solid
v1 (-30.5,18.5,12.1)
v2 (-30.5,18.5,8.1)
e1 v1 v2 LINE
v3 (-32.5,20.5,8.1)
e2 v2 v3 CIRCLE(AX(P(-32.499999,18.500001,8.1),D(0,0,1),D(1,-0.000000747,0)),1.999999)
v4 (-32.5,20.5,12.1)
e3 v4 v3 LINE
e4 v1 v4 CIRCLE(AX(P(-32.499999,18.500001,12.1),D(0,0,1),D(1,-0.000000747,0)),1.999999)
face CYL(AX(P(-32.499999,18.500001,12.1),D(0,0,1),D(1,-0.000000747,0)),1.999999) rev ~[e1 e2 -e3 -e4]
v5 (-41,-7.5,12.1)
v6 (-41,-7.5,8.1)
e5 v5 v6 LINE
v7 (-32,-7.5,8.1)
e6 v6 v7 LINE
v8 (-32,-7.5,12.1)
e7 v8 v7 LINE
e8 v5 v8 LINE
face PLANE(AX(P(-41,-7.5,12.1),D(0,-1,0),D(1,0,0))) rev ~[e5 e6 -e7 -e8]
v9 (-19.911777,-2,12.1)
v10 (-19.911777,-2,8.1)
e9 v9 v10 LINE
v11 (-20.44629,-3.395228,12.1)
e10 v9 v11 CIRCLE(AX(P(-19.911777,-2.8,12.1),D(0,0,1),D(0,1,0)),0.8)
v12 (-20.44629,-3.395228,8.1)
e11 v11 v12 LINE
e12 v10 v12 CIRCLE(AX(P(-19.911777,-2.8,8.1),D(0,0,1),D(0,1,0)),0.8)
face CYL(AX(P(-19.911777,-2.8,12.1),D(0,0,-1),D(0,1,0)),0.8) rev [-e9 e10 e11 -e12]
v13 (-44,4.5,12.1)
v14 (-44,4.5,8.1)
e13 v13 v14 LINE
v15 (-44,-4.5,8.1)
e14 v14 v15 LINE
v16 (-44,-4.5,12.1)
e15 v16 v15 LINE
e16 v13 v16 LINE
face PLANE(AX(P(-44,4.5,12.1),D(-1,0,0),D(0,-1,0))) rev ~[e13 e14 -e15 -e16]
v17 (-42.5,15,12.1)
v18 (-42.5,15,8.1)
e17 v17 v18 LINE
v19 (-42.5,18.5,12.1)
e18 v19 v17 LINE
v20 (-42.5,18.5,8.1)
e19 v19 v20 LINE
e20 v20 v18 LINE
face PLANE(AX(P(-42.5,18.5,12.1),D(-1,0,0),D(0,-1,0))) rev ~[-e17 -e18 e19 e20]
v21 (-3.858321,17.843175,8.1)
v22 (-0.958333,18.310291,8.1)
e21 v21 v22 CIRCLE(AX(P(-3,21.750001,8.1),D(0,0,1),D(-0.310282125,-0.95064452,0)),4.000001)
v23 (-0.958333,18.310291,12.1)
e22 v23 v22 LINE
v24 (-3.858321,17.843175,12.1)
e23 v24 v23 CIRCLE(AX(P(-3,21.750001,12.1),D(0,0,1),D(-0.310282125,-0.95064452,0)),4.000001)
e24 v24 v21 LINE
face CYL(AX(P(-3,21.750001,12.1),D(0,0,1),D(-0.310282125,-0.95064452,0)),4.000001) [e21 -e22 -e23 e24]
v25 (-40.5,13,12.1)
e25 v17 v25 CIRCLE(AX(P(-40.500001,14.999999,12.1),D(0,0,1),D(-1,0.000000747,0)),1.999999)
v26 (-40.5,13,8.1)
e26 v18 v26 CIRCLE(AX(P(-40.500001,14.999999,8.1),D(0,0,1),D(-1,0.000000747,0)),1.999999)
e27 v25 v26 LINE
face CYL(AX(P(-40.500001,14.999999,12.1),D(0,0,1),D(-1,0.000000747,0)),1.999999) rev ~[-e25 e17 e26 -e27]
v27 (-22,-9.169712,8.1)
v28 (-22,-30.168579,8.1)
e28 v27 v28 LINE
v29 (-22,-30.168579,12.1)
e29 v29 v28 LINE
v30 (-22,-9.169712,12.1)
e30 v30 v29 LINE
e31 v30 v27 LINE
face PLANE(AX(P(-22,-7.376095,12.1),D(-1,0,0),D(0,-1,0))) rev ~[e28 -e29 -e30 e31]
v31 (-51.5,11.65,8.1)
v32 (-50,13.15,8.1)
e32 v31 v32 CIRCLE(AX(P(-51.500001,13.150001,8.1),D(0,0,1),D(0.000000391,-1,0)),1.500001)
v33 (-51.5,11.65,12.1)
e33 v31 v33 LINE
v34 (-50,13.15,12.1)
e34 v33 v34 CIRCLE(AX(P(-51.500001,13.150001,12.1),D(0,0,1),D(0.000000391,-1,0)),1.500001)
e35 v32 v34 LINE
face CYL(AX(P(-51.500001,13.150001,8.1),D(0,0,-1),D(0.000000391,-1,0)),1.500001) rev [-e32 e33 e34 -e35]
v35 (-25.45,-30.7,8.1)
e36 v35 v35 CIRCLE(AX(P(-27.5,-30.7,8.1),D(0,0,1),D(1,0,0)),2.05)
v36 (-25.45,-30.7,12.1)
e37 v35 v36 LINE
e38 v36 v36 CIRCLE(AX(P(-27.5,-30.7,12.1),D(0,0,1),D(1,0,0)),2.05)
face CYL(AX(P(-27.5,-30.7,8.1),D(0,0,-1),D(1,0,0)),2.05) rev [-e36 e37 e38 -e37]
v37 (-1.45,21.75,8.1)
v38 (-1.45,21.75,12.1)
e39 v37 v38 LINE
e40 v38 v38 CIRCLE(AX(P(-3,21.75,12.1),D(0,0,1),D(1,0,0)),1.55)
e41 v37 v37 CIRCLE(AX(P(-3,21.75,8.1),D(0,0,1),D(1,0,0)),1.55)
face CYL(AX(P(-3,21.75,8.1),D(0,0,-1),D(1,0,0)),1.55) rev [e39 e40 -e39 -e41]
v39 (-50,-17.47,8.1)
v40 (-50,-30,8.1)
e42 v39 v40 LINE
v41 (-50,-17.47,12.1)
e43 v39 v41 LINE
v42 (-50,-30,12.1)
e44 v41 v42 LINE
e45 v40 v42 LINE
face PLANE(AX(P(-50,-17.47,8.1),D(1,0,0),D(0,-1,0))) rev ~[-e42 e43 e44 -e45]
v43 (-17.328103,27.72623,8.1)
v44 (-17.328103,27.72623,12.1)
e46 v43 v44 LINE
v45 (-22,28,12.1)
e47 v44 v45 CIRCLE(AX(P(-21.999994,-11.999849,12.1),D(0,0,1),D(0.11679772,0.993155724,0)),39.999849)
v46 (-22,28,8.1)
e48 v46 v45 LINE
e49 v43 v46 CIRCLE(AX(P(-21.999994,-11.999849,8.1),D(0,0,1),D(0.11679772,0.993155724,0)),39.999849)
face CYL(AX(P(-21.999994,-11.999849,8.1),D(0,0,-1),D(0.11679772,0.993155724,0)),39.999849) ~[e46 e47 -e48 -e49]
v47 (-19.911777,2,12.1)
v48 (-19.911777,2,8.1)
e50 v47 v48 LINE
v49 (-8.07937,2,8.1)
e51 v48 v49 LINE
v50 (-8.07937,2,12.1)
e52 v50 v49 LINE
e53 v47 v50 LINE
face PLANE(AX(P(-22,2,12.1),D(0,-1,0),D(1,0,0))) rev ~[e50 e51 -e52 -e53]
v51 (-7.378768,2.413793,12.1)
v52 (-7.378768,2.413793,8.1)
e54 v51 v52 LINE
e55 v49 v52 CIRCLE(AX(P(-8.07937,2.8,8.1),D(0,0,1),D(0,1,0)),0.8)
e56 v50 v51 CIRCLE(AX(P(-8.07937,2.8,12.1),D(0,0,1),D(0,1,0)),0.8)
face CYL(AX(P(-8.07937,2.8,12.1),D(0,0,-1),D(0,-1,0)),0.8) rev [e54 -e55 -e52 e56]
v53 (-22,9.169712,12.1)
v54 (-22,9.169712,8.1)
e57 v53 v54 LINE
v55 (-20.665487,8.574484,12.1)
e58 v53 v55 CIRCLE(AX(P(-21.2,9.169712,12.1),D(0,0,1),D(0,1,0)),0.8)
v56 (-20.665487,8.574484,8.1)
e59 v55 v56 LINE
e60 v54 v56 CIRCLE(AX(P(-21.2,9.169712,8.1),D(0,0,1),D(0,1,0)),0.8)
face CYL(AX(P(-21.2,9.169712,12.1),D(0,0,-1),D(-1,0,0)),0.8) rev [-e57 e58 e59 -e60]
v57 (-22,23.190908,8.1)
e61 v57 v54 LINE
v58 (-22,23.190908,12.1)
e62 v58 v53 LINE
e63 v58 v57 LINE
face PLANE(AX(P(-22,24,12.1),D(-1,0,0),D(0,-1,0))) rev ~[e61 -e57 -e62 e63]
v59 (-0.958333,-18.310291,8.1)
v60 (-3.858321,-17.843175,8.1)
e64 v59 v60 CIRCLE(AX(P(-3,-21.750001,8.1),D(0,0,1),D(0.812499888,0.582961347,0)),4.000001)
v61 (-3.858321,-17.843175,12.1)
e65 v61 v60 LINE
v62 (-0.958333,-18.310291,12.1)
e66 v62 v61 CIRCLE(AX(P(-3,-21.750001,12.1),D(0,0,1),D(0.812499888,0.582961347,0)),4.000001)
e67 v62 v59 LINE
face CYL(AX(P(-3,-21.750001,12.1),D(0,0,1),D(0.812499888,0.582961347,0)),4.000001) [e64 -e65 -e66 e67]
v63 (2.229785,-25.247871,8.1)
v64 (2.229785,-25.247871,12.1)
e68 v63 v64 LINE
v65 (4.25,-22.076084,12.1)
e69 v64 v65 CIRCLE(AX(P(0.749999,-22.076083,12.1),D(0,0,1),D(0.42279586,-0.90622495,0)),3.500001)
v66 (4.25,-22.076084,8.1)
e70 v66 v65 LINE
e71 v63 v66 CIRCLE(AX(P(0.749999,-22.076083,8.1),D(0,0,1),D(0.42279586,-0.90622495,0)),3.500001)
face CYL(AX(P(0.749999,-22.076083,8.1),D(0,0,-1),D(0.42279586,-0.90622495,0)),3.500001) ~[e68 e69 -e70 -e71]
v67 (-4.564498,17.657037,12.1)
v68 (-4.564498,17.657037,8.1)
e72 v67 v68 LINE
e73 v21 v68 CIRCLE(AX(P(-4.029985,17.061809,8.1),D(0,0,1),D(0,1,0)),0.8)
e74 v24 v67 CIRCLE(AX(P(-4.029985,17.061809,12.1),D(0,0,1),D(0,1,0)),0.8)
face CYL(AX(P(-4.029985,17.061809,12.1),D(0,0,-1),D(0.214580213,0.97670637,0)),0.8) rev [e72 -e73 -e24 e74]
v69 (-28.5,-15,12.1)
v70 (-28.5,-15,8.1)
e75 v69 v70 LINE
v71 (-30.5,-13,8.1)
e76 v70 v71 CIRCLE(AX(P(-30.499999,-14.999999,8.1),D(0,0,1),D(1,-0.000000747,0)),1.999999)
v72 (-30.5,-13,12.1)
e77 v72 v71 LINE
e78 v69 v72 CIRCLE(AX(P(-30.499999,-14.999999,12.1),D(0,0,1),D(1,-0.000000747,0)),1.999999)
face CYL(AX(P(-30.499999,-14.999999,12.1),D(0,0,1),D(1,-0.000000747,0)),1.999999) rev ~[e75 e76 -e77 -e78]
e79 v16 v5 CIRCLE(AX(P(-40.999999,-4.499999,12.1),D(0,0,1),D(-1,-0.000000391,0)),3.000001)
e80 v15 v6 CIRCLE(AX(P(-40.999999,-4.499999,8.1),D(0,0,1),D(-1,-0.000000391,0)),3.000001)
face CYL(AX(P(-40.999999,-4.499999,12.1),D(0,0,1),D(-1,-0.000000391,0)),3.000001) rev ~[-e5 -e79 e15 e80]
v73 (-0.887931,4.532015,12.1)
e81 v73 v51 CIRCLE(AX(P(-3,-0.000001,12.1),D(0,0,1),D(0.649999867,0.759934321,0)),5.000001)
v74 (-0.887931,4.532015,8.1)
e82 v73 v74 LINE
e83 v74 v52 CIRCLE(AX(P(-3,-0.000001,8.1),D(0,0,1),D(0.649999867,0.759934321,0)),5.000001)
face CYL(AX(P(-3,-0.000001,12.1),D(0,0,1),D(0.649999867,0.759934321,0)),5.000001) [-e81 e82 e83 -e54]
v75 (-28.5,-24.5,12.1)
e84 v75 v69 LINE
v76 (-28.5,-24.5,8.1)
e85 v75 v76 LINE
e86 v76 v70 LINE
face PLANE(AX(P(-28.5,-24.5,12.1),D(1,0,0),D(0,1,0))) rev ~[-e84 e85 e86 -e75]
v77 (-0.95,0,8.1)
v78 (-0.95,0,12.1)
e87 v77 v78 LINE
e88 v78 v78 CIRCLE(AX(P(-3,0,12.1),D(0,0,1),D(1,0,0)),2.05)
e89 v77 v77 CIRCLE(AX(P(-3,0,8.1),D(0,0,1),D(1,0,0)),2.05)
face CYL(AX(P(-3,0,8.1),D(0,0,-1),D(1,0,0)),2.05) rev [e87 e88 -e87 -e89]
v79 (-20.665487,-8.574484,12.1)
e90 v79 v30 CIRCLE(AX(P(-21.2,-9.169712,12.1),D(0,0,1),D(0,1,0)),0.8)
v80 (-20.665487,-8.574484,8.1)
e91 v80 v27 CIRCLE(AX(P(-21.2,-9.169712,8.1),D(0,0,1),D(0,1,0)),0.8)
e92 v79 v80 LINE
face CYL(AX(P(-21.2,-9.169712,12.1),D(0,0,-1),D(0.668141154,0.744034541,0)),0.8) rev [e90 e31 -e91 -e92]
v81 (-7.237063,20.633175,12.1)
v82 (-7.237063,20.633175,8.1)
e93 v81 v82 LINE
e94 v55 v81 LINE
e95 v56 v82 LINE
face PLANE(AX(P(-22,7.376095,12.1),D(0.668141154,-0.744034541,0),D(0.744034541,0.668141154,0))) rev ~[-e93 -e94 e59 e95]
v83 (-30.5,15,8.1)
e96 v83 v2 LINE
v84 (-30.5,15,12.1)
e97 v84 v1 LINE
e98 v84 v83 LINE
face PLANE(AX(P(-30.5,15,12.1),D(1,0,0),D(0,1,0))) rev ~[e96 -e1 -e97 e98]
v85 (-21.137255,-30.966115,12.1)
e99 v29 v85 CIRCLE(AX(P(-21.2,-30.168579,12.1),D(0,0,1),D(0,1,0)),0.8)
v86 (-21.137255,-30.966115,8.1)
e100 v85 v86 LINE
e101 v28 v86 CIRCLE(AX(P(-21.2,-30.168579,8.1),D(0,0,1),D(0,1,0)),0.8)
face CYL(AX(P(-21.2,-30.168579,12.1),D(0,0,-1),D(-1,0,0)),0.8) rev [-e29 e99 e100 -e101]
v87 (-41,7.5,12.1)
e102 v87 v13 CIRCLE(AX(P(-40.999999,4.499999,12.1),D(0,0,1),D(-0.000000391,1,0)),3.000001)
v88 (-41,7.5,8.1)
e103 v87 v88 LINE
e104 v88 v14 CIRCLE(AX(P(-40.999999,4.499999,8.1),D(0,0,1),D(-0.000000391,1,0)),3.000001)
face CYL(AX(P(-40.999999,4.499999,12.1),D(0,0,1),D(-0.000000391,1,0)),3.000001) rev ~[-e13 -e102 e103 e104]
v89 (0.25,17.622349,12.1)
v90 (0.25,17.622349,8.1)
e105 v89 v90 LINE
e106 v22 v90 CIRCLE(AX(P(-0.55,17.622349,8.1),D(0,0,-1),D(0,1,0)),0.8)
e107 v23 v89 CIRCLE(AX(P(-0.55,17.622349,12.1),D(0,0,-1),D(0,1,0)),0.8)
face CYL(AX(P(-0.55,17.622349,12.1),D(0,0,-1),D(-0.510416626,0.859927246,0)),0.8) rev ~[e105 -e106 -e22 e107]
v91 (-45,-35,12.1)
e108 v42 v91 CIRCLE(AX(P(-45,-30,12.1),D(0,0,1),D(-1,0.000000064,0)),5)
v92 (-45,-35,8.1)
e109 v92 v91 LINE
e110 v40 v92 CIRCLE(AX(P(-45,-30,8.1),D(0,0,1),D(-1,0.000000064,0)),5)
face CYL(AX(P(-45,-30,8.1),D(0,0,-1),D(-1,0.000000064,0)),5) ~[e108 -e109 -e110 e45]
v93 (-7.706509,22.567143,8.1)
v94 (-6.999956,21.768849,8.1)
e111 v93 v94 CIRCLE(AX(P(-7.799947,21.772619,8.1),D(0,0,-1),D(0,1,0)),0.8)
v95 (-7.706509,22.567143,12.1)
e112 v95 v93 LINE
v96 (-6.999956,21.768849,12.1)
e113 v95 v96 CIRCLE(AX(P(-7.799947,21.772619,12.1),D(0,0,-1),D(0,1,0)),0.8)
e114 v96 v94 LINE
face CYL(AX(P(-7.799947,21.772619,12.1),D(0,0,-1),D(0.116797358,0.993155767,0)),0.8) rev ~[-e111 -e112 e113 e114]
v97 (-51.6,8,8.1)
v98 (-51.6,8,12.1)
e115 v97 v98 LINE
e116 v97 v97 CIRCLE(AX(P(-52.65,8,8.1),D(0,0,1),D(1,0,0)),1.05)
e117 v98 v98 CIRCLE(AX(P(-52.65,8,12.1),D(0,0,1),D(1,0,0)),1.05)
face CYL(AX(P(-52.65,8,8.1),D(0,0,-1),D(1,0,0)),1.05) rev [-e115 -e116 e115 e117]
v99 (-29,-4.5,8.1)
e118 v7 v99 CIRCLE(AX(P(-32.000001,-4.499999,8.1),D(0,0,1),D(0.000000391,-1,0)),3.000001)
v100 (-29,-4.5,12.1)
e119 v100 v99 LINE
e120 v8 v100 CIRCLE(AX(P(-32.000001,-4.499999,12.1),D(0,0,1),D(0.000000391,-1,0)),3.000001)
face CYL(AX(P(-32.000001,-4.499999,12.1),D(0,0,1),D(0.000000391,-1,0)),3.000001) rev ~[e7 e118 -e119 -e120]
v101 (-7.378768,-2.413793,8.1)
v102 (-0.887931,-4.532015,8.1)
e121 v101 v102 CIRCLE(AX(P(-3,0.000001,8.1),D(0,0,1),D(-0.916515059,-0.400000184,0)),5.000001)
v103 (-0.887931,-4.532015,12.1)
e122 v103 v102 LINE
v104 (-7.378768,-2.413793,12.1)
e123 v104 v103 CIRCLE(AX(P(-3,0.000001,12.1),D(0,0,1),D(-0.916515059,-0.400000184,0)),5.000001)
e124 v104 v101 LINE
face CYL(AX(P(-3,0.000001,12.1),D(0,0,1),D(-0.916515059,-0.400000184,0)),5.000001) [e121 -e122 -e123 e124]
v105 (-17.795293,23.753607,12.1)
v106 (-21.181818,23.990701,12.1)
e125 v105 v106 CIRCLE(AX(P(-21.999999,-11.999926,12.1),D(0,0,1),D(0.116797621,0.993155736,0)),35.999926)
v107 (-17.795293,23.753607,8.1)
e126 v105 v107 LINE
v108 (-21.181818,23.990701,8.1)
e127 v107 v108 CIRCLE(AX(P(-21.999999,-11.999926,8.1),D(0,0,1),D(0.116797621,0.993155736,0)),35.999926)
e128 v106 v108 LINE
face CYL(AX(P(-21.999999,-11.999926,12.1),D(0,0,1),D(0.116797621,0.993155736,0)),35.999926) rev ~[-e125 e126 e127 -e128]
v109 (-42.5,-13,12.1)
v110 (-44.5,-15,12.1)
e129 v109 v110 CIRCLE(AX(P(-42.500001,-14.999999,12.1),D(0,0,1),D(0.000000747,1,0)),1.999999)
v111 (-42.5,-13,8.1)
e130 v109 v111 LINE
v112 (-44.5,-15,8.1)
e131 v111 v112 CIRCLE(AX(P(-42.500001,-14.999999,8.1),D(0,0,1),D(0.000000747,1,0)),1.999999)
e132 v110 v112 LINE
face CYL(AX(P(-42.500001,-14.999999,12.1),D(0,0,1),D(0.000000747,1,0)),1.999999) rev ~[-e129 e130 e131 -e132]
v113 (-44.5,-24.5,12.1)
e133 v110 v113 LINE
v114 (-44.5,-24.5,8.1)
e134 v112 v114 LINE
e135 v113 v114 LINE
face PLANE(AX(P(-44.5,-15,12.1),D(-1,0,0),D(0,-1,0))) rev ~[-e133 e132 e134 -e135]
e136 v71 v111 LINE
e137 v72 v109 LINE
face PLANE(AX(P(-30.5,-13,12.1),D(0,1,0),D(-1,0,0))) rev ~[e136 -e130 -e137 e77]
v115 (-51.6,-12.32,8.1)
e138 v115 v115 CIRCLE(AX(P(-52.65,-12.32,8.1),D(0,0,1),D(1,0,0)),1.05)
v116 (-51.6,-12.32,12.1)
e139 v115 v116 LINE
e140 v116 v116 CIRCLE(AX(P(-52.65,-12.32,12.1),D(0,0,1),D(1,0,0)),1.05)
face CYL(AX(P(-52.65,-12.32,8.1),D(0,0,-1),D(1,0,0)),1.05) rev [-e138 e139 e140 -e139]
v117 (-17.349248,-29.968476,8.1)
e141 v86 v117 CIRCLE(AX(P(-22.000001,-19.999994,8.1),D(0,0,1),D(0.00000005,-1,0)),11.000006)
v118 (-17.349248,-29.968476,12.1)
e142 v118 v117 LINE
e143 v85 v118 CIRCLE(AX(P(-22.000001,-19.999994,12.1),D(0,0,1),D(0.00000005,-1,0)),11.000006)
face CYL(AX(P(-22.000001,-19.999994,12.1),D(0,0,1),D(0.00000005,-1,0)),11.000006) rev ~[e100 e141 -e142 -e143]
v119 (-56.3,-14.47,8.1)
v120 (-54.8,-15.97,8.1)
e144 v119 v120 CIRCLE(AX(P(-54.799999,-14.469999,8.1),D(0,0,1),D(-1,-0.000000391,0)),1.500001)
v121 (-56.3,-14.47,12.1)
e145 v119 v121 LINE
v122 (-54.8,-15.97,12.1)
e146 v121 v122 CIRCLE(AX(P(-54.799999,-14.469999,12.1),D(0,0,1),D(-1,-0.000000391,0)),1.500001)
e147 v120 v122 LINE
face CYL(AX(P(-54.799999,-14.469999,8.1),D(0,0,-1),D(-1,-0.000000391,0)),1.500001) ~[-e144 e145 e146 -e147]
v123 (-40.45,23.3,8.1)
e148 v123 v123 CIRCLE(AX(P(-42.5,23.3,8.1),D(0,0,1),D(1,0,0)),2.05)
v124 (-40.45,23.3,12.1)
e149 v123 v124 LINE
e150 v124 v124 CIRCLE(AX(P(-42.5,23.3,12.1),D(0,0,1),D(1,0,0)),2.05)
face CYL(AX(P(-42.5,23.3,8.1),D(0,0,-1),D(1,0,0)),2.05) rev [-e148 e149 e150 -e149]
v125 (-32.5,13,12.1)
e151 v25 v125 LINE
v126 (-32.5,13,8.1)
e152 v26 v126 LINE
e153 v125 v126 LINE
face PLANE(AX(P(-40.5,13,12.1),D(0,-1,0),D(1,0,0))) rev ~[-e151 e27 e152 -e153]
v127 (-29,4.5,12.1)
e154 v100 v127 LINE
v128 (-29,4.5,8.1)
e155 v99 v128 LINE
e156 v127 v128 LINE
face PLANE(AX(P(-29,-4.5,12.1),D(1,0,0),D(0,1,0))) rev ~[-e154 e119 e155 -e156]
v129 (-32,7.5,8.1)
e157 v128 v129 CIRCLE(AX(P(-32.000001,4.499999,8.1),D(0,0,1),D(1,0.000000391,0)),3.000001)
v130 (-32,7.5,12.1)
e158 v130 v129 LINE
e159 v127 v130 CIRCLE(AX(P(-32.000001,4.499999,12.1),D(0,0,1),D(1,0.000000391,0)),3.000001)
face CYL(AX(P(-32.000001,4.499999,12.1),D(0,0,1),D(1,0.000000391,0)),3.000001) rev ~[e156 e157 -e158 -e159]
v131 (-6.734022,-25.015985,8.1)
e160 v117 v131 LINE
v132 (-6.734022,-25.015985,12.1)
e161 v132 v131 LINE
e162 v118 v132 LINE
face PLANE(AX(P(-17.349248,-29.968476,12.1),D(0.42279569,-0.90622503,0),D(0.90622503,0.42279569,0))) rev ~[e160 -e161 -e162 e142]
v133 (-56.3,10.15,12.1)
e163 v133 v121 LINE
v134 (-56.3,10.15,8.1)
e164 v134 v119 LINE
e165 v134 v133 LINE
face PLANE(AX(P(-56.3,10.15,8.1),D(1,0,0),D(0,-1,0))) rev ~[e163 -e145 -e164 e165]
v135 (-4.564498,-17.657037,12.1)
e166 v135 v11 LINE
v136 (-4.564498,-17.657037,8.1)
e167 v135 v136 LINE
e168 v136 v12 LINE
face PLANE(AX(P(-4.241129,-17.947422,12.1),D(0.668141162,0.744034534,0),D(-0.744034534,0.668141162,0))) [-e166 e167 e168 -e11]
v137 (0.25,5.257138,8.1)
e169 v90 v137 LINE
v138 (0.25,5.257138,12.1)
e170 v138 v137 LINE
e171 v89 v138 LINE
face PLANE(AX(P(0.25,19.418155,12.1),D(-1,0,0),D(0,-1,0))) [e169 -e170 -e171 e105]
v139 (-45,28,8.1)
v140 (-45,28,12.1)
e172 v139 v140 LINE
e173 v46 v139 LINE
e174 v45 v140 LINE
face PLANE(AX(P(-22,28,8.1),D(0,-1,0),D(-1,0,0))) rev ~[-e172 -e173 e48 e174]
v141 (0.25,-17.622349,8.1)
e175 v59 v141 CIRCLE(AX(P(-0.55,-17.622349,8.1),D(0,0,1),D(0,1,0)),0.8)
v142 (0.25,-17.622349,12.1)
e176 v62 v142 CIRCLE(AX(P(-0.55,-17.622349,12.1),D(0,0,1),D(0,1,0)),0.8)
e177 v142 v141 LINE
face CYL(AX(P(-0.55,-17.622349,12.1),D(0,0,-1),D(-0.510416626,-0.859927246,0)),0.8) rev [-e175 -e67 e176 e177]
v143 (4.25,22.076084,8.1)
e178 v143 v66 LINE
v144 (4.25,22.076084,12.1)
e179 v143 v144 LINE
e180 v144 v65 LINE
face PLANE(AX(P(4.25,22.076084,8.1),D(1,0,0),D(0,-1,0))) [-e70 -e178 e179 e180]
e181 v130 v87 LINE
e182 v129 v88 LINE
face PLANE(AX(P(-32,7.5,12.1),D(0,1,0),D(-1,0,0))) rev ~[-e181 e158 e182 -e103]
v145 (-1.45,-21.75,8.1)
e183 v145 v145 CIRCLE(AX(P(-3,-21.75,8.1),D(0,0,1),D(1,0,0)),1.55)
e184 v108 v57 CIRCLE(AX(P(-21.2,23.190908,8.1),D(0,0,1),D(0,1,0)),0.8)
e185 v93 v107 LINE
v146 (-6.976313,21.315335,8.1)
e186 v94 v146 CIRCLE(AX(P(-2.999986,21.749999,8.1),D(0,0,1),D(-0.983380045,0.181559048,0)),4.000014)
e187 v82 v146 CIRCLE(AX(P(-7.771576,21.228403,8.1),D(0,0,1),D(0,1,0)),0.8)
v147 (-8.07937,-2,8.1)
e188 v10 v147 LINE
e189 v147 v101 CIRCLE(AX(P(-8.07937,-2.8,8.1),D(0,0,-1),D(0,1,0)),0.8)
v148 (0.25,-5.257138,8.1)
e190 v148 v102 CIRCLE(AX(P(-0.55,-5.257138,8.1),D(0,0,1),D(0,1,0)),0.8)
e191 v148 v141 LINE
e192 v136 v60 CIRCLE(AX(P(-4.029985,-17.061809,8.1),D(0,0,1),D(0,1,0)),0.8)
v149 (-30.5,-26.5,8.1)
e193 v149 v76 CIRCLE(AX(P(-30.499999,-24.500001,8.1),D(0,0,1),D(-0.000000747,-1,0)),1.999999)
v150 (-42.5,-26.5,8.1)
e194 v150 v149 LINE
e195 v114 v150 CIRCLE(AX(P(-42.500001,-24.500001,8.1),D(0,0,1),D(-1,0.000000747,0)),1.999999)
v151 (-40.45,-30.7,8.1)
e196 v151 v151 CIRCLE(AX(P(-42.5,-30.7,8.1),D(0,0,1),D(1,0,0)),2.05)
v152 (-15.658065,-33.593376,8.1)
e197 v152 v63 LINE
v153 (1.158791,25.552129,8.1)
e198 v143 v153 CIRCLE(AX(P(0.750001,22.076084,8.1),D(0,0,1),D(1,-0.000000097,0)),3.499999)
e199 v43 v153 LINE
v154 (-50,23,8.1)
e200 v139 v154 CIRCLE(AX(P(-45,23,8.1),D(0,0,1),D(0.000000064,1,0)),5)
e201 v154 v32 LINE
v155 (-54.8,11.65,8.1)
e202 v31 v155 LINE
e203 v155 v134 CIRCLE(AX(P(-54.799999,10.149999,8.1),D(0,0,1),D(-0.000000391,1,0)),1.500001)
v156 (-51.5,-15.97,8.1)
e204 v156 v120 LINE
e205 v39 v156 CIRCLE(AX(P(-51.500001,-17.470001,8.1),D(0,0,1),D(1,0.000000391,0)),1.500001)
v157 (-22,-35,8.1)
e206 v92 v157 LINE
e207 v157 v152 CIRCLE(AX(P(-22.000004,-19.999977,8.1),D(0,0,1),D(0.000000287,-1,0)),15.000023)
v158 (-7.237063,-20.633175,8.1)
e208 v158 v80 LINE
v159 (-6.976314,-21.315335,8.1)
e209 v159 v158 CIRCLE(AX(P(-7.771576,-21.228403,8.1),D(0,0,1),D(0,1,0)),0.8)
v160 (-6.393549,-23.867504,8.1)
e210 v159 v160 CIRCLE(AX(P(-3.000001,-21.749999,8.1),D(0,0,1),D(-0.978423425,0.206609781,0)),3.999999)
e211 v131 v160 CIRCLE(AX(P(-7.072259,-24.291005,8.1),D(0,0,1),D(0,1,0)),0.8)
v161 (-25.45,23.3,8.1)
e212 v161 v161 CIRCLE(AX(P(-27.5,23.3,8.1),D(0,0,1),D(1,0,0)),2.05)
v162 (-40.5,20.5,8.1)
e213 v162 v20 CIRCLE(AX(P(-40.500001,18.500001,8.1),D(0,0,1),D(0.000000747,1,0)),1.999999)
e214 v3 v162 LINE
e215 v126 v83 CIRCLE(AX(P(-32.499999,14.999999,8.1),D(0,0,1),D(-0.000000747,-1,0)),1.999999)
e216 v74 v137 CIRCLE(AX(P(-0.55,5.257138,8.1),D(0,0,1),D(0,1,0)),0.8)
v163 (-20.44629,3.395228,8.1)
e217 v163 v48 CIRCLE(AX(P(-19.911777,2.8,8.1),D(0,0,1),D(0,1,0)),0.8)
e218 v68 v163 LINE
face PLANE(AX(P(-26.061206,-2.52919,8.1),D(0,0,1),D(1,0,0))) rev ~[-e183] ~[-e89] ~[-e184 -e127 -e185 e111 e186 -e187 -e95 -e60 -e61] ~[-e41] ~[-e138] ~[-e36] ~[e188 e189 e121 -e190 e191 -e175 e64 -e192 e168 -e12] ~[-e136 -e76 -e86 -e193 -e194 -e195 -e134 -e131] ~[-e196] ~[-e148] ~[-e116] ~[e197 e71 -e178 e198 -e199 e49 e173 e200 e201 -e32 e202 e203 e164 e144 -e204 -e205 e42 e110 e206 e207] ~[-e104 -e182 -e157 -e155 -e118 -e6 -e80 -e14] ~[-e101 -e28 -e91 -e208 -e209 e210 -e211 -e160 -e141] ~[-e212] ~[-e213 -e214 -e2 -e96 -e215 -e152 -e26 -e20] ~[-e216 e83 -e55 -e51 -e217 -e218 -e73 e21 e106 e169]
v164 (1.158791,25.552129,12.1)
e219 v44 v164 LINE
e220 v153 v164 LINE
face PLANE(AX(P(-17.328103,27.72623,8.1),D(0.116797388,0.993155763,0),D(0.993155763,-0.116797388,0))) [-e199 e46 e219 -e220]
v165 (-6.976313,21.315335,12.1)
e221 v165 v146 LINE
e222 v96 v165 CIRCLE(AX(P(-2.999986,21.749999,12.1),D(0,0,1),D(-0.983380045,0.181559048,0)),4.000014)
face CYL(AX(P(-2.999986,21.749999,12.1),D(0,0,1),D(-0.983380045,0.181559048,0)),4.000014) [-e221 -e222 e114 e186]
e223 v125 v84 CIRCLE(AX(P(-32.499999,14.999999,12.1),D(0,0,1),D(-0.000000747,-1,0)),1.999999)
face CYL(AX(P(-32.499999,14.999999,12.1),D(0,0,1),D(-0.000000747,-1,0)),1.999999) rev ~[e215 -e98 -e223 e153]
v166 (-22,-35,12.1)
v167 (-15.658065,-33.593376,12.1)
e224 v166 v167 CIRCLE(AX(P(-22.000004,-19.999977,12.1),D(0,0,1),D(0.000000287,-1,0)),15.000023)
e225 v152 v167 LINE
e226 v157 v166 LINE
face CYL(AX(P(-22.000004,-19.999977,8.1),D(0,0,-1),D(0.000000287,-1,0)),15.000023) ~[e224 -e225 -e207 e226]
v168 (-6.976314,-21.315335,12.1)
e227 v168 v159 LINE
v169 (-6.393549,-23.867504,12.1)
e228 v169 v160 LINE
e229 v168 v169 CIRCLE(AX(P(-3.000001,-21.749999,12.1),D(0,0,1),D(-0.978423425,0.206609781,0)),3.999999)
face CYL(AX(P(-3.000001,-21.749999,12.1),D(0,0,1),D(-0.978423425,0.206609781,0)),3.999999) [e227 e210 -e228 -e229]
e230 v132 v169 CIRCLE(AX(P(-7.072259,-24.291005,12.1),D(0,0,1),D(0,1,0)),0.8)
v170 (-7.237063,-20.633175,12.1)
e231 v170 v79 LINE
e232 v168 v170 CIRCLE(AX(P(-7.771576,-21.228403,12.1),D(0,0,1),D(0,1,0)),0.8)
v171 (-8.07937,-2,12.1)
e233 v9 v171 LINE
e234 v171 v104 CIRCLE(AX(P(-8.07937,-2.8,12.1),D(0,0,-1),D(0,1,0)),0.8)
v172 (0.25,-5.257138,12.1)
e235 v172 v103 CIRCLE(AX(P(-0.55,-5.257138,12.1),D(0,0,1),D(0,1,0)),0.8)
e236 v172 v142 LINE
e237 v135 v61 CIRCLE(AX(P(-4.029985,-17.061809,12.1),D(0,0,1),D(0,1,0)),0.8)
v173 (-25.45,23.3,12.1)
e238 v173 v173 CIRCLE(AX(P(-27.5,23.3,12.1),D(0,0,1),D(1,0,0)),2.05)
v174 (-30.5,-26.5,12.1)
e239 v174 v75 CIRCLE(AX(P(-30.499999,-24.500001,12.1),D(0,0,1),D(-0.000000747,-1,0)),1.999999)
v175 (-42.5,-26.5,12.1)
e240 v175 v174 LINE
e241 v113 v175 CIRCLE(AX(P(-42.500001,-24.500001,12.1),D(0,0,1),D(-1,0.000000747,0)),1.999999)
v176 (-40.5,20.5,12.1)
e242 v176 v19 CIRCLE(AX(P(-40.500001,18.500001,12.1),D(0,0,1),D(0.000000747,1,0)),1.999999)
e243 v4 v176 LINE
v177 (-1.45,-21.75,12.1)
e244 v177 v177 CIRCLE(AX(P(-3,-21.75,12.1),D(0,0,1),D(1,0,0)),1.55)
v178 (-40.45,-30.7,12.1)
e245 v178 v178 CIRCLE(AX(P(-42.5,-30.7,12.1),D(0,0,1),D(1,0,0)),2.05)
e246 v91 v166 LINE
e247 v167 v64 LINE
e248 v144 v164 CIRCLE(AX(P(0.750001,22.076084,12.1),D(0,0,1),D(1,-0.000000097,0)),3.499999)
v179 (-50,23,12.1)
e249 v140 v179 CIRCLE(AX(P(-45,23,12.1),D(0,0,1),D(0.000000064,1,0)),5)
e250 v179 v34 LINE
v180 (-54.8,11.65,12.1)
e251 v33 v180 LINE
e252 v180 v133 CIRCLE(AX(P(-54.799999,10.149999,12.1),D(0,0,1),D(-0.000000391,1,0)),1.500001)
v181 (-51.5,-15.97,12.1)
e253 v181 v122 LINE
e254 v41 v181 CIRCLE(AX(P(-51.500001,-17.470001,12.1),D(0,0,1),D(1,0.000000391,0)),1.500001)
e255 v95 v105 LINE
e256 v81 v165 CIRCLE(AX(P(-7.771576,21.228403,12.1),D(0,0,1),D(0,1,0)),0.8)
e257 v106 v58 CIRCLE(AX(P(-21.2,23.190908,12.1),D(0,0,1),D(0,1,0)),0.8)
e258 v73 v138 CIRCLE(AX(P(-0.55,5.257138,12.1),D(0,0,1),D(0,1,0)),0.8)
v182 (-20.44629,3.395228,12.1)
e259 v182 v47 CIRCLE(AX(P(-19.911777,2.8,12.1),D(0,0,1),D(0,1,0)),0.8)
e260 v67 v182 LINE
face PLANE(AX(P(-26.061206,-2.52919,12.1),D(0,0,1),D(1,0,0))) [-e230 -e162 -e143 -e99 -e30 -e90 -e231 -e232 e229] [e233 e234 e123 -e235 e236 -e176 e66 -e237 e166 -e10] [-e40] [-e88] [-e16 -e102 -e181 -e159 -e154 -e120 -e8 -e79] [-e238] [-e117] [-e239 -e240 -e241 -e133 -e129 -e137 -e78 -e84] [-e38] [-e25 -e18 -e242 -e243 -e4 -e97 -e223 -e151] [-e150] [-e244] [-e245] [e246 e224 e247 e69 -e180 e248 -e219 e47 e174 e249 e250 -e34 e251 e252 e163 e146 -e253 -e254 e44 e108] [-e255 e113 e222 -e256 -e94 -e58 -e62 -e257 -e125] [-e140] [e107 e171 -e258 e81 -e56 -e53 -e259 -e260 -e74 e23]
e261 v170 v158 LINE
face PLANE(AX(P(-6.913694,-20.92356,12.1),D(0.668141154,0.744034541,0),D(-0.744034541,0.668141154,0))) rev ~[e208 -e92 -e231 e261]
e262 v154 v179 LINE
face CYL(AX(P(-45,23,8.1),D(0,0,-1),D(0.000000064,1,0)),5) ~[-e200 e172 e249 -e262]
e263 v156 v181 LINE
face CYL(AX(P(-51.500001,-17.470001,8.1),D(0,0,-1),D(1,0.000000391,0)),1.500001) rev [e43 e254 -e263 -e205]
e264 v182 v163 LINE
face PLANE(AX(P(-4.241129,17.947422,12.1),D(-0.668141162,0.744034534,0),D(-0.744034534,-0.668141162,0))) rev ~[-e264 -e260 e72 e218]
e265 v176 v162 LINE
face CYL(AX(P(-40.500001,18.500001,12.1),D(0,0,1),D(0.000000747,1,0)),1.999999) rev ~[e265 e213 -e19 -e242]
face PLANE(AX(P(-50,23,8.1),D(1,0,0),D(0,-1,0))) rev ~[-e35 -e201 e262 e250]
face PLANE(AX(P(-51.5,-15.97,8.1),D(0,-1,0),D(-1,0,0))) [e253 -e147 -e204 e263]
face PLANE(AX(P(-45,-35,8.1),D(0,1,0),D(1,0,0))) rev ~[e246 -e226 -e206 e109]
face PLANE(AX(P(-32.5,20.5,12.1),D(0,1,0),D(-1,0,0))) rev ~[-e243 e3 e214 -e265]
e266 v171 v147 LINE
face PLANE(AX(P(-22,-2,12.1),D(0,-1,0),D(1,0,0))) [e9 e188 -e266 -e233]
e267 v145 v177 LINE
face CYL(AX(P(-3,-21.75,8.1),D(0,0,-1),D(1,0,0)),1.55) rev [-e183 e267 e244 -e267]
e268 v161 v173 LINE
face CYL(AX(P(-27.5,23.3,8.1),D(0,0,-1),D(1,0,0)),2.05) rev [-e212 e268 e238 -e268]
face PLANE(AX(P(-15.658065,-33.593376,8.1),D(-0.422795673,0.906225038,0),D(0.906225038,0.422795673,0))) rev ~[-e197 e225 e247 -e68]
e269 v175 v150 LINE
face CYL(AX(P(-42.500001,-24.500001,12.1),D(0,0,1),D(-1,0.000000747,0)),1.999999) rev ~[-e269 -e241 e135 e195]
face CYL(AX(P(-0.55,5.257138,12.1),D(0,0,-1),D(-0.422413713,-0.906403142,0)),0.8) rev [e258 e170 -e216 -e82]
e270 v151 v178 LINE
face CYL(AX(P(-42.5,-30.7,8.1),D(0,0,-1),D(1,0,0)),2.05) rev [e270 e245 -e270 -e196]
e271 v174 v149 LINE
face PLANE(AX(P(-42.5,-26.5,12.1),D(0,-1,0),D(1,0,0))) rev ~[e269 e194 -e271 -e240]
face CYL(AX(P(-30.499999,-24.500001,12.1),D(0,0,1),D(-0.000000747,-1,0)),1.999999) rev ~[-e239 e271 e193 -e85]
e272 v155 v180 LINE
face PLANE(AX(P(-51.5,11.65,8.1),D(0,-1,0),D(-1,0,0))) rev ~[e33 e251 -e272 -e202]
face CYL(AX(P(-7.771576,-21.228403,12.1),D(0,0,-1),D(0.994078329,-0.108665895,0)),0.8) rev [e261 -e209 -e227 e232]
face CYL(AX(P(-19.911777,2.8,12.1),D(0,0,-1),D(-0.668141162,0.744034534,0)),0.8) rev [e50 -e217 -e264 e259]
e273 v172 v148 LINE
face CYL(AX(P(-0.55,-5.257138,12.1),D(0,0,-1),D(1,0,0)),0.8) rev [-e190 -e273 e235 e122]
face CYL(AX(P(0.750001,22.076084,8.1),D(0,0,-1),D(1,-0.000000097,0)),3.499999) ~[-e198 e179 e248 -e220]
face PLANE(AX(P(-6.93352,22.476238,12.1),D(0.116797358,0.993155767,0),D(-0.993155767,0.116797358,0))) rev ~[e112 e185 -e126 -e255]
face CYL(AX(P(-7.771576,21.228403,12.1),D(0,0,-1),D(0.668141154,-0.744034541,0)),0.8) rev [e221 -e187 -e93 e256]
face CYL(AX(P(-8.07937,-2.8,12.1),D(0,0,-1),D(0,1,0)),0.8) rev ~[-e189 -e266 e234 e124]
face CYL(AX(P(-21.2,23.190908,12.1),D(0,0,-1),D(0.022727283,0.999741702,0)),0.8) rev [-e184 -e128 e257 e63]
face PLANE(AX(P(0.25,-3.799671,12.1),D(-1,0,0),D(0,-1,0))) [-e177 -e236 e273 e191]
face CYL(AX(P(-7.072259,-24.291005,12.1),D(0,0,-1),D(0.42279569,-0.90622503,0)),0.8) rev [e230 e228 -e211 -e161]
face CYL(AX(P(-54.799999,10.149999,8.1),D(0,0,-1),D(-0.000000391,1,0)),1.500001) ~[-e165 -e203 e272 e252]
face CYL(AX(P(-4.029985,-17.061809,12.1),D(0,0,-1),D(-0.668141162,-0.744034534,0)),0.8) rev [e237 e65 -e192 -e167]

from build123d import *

# Parameters (mm, degrees)
SKETCH155_R     = 1.55
SKETCH155_R_2   = 2.05
SKETCH155_R_3   = 1.05
PAD061_DEPTH    = 4
POCKET077_DEPTH = 4.001
POCKET078_DEPTH = 4.001
FILLET005_R     = 0.8


with BuildPart() as part:
    # Sketch155 → Pad061 (new body)
    with BuildSketch(Plane.XY):
        with BuildLine():
            Line((-22, 28), (-45, 28))
            ThreePointArc((-45, 28), (-48.535534, 26.535534), (-50, 23))
            Line((-50, 23), (-50, 13.15))
            ThreePointArc((-51.5, 11.65), (-50.43934, 12.08934), (-50, 13.15))
            Line((-51.5, 11.65), (-54.8, 11.65))
            ThreePointArc((-54.8, 11.65), (-55.86066, 11.21066), (-56.3, 10.15))
            Line((-56.3, 10.15), (-56.3, -14.47))
            ThreePointArc((-56.3, -14.47), (-55.86066, -15.53066), (-54.8, -15.97))
            Line((-51.5, -15.97), (-54.8, -15.97))
            ThreePointArc((-50, -17.47), (-50.43934, -16.40934), (-51.5, -15.97))
            Line((-50, -17.47), (-50, -30))
            ThreePointArc((-50, -30), (-48.535534, -33.535534), (-45, -35))
            Line((-45, -35), (-22, -35))
            ThreePointArc((-22, -35), (-18.751973, -34.644122), (-15.658065, -33.593376))
            Line((-15.658065, -33.593376), (2.229785, -25.247871))
            ThreePointArc((2.229785, -25.247871), (3.702054, -23.956343), (4.25, -22.076084))
            Line((4.25, 22.076084), (4.25, -22.076084))
            ThreePointArc((4.25, 22.076084), (3.365413, 24.401942), (1.158791, 25.552129))
            Line((-17.328103, 27.72623), (1.158791, 25.552129))
            ThreePointArc((-17.328103, 27.72623), (-19.660044, 27.931499), (-22, 28))
        make_face()
        with Locations((-3, 21.75)):
            Circle(SKETCH155_R, mode=Mode.SUBTRACT)
        with Locations((-3, -21.75)):
            Circle(SKETCH155_R, mode=Mode.SUBTRACT)
        with Locations((-3, 0)):
            Circle(SKETCH155_R_2, mode=Mode.SUBTRACT)
        with Locations((-42.5, -30.7)):
            Circle(SKETCH155_R_2, mode=Mode.SUBTRACT)
        with Locations((-27.5, -30.7)):
            Circle(SKETCH155_R_2, mode=Mode.SUBTRACT)
        with Locations((-42.5, 23.3)):
            Circle(SKETCH155_R_2, mode=Mode.SUBTRACT)
        with Locations((-27.5, 23.3)):
            Circle(SKETCH155_R_2, mode=Mode.SUBTRACT)
        with Locations((-52.65, 8)):
            Circle(SKETCH155_R_3, mode=Mode.SUBTRACT)
        with Locations((-52.65, -12.32)):
            Circle(SKETCH155_R_3, mode=Mode.SUBTRACT)
    extrude(amount=PAD061_DEPTH)

    # Sketch156 (on Face31 of Pad061) → Pocket077 (cut, through all)
    with BuildSketch(Plane.XY.offset(4)):
        with BuildLine():
            Line((-42.5, -26.5), (-30.5, -26.5))
            ThreePointArc((-30.5, -26.5), (-29.085786, -25.914214), (-28.5, -24.5))
            Line((-28.5, -24.5), (-28.5, -15))
            ThreePointArc((-28.5, -15), (-29.085786, -13.585786), (-30.5, -13))
            Line((-30.5, -13), (-42.5, -13))
            ThreePointArc((-42.5, -13), (-43.914214, -13.585786), (-44.5, -15))
            Line((-44.5, -15), (-44.5, -24.5))
            ThreePointArc((-44.5, -24.5), (-43.914214, -25.914214), (-42.5, -26.5))
        make_face()
        with BuildLine():
            Line((-41, -7.5), (-32, -7.5))
            ThreePointArc((-32, -7.5), (-29.87868, -6.62132), (-29, -4.5))
            Line((-29, -4.5), (-29, 4.5))
            ThreePointArc((-29, 4.5), (-29.87868, 6.62132), (-32, 7.5))
            Line((-32, 7.5), (-41, 7.5))
            ThreePointArc((-41, 7.5), (-43.12132, 6.62132), (-44, 4.5))
            Line((-44, 4.5), (-44, -4.5))
            ThreePointArc((-44, -4.5), (-43.12132, -6.62132), (-41, -7.5))
        make_face()
        with BuildLine():
            Line((-40.5, 13), (-32.5, 13))
            ThreePointArc((-32.5, 13), (-31.085786, 13.585786), (-30.5, 15))
            Line((-30.5, 15), (-30.5, 18.5))
            ThreePointArc((-30.5, 18.5), (-31.085786, 19.914214), (-32.5, 20.5))
            Line((-32.5, 20.5), (-40.5, 20.5))
            ThreePointArc((-40.5, 20.5), (-41.914214, 19.914214), (-42.5, 18.5))
            Line((-42.5, 18.5), (-42.5, 15))
            ThreePointArc((-42.5, 15), (-41.914214, 13.585786), (-40.5, 13))
        make_face()
    extrude(amount=-POCKET077_DEPTH, mode=Mode.SUBTRACT)

    # Sketch157 (on Face5 of Pocket077) → Pocket078 (cut, through all)
    with BuildSketch(Plane.XY.offset(4)):
        with BuildLine():
            ThreePointArc((-7.582576, -2), (-4.119662, -4.873023), (0.25, -3.799671))
            Line((0.25, -3.799671), (0.25, -19.418155))
            ThreePointArc((0.25, -19.418155), (-1.755149, -17.948639), (-4.241129, -17.947422))
            Line((-4.241129, -17.947422), (-22, -2))
            Line((-22, -2), (-7.582576, -2))
        make_face()
        with BuildLine():
            ThreePointArc((-6.93352, 22.476238), (-6.999674, 21.698928), (-6.913694, 20.92356))
            Line((-22, 7.376095), (-6.913694, 20.92356))
            Line((-22, 24), (-22, 7.376095))
            ThreePointArc((-17.795293, 23.753607), (-19.89404, 23.938349), (-22, 24))
            Line((-6.93352, 22.476238), (-17.795293, 23.753607))
        make_face()
        with BuildLine():
            Line((0.25, 19.418155), (0.25, 3.799671))
            ThreePointArc((0.25, 3.799671), (-4.119662, 4.873023), (-7.582576, 2))
            Line((-22, 2), (-7.582576, 2))
            Line((-4.241129, 17.947422), (-22, 2))
            ThreePointArc((-4.241129, 17.947422), (-1.755149, 17.948639), (0.25, 19.418155))
        make_face()
        with BuildLine():
            Line((-17.349248, -29.968476), (-5.818135, -24.588681))
            ThreePointArc((-6.913694, -20.92356), (-6.832448, -22.895575), (-5.818135, -24.588681))
            Line((-6.913694, -20.92356), (-22, -7.376095))
            Line((-22, -7.376095), (-22, -31))
            ThreePointArc((-22, -31), (-19.618113, -30.739023), (-17.349248, -29.968476))
        make_face()
    extrude(amount=-POCKET078_DEPTH, mode=Mode.SUBTRACT)

    # Fillet005
    fillet005_edges = [part.edges().sort_by_distance(p)[0] for p in [
        (-22, -7.376095, 2),
        (-22, -2, 2),
        (-6.913694, -20.92356, 2),
        (-5.818135, -24.588681, 2),
        (-22, -31, 2),
        (-22, 2, 2),
        (-4.241129, 17.947422, 2),
        (0.25, 19.418155, 2),
        (-7.582576, 2, 2),
        (0.25, 3.799671, 2),
        (-22, 7.376095, 2),
        (-22, 24, 2),
        (-6.93352, 22.476238, 2),
        (-6.913694, 20.92356, 2),
        (0.25, -3.799671, 2),
        (-7.582576, -2, 2),
        (-4.241129, -17.947422, 2),
        (0.25, -19.418155, 2),
    ]]
    fillet(fillet005_edges, radius=FILLET005_R)


with BuildPart() as part_1:
    # Body023 placement: moved
    add(part.part.moved(Location((0, 0, 8.1))))


solid = part_1.part
